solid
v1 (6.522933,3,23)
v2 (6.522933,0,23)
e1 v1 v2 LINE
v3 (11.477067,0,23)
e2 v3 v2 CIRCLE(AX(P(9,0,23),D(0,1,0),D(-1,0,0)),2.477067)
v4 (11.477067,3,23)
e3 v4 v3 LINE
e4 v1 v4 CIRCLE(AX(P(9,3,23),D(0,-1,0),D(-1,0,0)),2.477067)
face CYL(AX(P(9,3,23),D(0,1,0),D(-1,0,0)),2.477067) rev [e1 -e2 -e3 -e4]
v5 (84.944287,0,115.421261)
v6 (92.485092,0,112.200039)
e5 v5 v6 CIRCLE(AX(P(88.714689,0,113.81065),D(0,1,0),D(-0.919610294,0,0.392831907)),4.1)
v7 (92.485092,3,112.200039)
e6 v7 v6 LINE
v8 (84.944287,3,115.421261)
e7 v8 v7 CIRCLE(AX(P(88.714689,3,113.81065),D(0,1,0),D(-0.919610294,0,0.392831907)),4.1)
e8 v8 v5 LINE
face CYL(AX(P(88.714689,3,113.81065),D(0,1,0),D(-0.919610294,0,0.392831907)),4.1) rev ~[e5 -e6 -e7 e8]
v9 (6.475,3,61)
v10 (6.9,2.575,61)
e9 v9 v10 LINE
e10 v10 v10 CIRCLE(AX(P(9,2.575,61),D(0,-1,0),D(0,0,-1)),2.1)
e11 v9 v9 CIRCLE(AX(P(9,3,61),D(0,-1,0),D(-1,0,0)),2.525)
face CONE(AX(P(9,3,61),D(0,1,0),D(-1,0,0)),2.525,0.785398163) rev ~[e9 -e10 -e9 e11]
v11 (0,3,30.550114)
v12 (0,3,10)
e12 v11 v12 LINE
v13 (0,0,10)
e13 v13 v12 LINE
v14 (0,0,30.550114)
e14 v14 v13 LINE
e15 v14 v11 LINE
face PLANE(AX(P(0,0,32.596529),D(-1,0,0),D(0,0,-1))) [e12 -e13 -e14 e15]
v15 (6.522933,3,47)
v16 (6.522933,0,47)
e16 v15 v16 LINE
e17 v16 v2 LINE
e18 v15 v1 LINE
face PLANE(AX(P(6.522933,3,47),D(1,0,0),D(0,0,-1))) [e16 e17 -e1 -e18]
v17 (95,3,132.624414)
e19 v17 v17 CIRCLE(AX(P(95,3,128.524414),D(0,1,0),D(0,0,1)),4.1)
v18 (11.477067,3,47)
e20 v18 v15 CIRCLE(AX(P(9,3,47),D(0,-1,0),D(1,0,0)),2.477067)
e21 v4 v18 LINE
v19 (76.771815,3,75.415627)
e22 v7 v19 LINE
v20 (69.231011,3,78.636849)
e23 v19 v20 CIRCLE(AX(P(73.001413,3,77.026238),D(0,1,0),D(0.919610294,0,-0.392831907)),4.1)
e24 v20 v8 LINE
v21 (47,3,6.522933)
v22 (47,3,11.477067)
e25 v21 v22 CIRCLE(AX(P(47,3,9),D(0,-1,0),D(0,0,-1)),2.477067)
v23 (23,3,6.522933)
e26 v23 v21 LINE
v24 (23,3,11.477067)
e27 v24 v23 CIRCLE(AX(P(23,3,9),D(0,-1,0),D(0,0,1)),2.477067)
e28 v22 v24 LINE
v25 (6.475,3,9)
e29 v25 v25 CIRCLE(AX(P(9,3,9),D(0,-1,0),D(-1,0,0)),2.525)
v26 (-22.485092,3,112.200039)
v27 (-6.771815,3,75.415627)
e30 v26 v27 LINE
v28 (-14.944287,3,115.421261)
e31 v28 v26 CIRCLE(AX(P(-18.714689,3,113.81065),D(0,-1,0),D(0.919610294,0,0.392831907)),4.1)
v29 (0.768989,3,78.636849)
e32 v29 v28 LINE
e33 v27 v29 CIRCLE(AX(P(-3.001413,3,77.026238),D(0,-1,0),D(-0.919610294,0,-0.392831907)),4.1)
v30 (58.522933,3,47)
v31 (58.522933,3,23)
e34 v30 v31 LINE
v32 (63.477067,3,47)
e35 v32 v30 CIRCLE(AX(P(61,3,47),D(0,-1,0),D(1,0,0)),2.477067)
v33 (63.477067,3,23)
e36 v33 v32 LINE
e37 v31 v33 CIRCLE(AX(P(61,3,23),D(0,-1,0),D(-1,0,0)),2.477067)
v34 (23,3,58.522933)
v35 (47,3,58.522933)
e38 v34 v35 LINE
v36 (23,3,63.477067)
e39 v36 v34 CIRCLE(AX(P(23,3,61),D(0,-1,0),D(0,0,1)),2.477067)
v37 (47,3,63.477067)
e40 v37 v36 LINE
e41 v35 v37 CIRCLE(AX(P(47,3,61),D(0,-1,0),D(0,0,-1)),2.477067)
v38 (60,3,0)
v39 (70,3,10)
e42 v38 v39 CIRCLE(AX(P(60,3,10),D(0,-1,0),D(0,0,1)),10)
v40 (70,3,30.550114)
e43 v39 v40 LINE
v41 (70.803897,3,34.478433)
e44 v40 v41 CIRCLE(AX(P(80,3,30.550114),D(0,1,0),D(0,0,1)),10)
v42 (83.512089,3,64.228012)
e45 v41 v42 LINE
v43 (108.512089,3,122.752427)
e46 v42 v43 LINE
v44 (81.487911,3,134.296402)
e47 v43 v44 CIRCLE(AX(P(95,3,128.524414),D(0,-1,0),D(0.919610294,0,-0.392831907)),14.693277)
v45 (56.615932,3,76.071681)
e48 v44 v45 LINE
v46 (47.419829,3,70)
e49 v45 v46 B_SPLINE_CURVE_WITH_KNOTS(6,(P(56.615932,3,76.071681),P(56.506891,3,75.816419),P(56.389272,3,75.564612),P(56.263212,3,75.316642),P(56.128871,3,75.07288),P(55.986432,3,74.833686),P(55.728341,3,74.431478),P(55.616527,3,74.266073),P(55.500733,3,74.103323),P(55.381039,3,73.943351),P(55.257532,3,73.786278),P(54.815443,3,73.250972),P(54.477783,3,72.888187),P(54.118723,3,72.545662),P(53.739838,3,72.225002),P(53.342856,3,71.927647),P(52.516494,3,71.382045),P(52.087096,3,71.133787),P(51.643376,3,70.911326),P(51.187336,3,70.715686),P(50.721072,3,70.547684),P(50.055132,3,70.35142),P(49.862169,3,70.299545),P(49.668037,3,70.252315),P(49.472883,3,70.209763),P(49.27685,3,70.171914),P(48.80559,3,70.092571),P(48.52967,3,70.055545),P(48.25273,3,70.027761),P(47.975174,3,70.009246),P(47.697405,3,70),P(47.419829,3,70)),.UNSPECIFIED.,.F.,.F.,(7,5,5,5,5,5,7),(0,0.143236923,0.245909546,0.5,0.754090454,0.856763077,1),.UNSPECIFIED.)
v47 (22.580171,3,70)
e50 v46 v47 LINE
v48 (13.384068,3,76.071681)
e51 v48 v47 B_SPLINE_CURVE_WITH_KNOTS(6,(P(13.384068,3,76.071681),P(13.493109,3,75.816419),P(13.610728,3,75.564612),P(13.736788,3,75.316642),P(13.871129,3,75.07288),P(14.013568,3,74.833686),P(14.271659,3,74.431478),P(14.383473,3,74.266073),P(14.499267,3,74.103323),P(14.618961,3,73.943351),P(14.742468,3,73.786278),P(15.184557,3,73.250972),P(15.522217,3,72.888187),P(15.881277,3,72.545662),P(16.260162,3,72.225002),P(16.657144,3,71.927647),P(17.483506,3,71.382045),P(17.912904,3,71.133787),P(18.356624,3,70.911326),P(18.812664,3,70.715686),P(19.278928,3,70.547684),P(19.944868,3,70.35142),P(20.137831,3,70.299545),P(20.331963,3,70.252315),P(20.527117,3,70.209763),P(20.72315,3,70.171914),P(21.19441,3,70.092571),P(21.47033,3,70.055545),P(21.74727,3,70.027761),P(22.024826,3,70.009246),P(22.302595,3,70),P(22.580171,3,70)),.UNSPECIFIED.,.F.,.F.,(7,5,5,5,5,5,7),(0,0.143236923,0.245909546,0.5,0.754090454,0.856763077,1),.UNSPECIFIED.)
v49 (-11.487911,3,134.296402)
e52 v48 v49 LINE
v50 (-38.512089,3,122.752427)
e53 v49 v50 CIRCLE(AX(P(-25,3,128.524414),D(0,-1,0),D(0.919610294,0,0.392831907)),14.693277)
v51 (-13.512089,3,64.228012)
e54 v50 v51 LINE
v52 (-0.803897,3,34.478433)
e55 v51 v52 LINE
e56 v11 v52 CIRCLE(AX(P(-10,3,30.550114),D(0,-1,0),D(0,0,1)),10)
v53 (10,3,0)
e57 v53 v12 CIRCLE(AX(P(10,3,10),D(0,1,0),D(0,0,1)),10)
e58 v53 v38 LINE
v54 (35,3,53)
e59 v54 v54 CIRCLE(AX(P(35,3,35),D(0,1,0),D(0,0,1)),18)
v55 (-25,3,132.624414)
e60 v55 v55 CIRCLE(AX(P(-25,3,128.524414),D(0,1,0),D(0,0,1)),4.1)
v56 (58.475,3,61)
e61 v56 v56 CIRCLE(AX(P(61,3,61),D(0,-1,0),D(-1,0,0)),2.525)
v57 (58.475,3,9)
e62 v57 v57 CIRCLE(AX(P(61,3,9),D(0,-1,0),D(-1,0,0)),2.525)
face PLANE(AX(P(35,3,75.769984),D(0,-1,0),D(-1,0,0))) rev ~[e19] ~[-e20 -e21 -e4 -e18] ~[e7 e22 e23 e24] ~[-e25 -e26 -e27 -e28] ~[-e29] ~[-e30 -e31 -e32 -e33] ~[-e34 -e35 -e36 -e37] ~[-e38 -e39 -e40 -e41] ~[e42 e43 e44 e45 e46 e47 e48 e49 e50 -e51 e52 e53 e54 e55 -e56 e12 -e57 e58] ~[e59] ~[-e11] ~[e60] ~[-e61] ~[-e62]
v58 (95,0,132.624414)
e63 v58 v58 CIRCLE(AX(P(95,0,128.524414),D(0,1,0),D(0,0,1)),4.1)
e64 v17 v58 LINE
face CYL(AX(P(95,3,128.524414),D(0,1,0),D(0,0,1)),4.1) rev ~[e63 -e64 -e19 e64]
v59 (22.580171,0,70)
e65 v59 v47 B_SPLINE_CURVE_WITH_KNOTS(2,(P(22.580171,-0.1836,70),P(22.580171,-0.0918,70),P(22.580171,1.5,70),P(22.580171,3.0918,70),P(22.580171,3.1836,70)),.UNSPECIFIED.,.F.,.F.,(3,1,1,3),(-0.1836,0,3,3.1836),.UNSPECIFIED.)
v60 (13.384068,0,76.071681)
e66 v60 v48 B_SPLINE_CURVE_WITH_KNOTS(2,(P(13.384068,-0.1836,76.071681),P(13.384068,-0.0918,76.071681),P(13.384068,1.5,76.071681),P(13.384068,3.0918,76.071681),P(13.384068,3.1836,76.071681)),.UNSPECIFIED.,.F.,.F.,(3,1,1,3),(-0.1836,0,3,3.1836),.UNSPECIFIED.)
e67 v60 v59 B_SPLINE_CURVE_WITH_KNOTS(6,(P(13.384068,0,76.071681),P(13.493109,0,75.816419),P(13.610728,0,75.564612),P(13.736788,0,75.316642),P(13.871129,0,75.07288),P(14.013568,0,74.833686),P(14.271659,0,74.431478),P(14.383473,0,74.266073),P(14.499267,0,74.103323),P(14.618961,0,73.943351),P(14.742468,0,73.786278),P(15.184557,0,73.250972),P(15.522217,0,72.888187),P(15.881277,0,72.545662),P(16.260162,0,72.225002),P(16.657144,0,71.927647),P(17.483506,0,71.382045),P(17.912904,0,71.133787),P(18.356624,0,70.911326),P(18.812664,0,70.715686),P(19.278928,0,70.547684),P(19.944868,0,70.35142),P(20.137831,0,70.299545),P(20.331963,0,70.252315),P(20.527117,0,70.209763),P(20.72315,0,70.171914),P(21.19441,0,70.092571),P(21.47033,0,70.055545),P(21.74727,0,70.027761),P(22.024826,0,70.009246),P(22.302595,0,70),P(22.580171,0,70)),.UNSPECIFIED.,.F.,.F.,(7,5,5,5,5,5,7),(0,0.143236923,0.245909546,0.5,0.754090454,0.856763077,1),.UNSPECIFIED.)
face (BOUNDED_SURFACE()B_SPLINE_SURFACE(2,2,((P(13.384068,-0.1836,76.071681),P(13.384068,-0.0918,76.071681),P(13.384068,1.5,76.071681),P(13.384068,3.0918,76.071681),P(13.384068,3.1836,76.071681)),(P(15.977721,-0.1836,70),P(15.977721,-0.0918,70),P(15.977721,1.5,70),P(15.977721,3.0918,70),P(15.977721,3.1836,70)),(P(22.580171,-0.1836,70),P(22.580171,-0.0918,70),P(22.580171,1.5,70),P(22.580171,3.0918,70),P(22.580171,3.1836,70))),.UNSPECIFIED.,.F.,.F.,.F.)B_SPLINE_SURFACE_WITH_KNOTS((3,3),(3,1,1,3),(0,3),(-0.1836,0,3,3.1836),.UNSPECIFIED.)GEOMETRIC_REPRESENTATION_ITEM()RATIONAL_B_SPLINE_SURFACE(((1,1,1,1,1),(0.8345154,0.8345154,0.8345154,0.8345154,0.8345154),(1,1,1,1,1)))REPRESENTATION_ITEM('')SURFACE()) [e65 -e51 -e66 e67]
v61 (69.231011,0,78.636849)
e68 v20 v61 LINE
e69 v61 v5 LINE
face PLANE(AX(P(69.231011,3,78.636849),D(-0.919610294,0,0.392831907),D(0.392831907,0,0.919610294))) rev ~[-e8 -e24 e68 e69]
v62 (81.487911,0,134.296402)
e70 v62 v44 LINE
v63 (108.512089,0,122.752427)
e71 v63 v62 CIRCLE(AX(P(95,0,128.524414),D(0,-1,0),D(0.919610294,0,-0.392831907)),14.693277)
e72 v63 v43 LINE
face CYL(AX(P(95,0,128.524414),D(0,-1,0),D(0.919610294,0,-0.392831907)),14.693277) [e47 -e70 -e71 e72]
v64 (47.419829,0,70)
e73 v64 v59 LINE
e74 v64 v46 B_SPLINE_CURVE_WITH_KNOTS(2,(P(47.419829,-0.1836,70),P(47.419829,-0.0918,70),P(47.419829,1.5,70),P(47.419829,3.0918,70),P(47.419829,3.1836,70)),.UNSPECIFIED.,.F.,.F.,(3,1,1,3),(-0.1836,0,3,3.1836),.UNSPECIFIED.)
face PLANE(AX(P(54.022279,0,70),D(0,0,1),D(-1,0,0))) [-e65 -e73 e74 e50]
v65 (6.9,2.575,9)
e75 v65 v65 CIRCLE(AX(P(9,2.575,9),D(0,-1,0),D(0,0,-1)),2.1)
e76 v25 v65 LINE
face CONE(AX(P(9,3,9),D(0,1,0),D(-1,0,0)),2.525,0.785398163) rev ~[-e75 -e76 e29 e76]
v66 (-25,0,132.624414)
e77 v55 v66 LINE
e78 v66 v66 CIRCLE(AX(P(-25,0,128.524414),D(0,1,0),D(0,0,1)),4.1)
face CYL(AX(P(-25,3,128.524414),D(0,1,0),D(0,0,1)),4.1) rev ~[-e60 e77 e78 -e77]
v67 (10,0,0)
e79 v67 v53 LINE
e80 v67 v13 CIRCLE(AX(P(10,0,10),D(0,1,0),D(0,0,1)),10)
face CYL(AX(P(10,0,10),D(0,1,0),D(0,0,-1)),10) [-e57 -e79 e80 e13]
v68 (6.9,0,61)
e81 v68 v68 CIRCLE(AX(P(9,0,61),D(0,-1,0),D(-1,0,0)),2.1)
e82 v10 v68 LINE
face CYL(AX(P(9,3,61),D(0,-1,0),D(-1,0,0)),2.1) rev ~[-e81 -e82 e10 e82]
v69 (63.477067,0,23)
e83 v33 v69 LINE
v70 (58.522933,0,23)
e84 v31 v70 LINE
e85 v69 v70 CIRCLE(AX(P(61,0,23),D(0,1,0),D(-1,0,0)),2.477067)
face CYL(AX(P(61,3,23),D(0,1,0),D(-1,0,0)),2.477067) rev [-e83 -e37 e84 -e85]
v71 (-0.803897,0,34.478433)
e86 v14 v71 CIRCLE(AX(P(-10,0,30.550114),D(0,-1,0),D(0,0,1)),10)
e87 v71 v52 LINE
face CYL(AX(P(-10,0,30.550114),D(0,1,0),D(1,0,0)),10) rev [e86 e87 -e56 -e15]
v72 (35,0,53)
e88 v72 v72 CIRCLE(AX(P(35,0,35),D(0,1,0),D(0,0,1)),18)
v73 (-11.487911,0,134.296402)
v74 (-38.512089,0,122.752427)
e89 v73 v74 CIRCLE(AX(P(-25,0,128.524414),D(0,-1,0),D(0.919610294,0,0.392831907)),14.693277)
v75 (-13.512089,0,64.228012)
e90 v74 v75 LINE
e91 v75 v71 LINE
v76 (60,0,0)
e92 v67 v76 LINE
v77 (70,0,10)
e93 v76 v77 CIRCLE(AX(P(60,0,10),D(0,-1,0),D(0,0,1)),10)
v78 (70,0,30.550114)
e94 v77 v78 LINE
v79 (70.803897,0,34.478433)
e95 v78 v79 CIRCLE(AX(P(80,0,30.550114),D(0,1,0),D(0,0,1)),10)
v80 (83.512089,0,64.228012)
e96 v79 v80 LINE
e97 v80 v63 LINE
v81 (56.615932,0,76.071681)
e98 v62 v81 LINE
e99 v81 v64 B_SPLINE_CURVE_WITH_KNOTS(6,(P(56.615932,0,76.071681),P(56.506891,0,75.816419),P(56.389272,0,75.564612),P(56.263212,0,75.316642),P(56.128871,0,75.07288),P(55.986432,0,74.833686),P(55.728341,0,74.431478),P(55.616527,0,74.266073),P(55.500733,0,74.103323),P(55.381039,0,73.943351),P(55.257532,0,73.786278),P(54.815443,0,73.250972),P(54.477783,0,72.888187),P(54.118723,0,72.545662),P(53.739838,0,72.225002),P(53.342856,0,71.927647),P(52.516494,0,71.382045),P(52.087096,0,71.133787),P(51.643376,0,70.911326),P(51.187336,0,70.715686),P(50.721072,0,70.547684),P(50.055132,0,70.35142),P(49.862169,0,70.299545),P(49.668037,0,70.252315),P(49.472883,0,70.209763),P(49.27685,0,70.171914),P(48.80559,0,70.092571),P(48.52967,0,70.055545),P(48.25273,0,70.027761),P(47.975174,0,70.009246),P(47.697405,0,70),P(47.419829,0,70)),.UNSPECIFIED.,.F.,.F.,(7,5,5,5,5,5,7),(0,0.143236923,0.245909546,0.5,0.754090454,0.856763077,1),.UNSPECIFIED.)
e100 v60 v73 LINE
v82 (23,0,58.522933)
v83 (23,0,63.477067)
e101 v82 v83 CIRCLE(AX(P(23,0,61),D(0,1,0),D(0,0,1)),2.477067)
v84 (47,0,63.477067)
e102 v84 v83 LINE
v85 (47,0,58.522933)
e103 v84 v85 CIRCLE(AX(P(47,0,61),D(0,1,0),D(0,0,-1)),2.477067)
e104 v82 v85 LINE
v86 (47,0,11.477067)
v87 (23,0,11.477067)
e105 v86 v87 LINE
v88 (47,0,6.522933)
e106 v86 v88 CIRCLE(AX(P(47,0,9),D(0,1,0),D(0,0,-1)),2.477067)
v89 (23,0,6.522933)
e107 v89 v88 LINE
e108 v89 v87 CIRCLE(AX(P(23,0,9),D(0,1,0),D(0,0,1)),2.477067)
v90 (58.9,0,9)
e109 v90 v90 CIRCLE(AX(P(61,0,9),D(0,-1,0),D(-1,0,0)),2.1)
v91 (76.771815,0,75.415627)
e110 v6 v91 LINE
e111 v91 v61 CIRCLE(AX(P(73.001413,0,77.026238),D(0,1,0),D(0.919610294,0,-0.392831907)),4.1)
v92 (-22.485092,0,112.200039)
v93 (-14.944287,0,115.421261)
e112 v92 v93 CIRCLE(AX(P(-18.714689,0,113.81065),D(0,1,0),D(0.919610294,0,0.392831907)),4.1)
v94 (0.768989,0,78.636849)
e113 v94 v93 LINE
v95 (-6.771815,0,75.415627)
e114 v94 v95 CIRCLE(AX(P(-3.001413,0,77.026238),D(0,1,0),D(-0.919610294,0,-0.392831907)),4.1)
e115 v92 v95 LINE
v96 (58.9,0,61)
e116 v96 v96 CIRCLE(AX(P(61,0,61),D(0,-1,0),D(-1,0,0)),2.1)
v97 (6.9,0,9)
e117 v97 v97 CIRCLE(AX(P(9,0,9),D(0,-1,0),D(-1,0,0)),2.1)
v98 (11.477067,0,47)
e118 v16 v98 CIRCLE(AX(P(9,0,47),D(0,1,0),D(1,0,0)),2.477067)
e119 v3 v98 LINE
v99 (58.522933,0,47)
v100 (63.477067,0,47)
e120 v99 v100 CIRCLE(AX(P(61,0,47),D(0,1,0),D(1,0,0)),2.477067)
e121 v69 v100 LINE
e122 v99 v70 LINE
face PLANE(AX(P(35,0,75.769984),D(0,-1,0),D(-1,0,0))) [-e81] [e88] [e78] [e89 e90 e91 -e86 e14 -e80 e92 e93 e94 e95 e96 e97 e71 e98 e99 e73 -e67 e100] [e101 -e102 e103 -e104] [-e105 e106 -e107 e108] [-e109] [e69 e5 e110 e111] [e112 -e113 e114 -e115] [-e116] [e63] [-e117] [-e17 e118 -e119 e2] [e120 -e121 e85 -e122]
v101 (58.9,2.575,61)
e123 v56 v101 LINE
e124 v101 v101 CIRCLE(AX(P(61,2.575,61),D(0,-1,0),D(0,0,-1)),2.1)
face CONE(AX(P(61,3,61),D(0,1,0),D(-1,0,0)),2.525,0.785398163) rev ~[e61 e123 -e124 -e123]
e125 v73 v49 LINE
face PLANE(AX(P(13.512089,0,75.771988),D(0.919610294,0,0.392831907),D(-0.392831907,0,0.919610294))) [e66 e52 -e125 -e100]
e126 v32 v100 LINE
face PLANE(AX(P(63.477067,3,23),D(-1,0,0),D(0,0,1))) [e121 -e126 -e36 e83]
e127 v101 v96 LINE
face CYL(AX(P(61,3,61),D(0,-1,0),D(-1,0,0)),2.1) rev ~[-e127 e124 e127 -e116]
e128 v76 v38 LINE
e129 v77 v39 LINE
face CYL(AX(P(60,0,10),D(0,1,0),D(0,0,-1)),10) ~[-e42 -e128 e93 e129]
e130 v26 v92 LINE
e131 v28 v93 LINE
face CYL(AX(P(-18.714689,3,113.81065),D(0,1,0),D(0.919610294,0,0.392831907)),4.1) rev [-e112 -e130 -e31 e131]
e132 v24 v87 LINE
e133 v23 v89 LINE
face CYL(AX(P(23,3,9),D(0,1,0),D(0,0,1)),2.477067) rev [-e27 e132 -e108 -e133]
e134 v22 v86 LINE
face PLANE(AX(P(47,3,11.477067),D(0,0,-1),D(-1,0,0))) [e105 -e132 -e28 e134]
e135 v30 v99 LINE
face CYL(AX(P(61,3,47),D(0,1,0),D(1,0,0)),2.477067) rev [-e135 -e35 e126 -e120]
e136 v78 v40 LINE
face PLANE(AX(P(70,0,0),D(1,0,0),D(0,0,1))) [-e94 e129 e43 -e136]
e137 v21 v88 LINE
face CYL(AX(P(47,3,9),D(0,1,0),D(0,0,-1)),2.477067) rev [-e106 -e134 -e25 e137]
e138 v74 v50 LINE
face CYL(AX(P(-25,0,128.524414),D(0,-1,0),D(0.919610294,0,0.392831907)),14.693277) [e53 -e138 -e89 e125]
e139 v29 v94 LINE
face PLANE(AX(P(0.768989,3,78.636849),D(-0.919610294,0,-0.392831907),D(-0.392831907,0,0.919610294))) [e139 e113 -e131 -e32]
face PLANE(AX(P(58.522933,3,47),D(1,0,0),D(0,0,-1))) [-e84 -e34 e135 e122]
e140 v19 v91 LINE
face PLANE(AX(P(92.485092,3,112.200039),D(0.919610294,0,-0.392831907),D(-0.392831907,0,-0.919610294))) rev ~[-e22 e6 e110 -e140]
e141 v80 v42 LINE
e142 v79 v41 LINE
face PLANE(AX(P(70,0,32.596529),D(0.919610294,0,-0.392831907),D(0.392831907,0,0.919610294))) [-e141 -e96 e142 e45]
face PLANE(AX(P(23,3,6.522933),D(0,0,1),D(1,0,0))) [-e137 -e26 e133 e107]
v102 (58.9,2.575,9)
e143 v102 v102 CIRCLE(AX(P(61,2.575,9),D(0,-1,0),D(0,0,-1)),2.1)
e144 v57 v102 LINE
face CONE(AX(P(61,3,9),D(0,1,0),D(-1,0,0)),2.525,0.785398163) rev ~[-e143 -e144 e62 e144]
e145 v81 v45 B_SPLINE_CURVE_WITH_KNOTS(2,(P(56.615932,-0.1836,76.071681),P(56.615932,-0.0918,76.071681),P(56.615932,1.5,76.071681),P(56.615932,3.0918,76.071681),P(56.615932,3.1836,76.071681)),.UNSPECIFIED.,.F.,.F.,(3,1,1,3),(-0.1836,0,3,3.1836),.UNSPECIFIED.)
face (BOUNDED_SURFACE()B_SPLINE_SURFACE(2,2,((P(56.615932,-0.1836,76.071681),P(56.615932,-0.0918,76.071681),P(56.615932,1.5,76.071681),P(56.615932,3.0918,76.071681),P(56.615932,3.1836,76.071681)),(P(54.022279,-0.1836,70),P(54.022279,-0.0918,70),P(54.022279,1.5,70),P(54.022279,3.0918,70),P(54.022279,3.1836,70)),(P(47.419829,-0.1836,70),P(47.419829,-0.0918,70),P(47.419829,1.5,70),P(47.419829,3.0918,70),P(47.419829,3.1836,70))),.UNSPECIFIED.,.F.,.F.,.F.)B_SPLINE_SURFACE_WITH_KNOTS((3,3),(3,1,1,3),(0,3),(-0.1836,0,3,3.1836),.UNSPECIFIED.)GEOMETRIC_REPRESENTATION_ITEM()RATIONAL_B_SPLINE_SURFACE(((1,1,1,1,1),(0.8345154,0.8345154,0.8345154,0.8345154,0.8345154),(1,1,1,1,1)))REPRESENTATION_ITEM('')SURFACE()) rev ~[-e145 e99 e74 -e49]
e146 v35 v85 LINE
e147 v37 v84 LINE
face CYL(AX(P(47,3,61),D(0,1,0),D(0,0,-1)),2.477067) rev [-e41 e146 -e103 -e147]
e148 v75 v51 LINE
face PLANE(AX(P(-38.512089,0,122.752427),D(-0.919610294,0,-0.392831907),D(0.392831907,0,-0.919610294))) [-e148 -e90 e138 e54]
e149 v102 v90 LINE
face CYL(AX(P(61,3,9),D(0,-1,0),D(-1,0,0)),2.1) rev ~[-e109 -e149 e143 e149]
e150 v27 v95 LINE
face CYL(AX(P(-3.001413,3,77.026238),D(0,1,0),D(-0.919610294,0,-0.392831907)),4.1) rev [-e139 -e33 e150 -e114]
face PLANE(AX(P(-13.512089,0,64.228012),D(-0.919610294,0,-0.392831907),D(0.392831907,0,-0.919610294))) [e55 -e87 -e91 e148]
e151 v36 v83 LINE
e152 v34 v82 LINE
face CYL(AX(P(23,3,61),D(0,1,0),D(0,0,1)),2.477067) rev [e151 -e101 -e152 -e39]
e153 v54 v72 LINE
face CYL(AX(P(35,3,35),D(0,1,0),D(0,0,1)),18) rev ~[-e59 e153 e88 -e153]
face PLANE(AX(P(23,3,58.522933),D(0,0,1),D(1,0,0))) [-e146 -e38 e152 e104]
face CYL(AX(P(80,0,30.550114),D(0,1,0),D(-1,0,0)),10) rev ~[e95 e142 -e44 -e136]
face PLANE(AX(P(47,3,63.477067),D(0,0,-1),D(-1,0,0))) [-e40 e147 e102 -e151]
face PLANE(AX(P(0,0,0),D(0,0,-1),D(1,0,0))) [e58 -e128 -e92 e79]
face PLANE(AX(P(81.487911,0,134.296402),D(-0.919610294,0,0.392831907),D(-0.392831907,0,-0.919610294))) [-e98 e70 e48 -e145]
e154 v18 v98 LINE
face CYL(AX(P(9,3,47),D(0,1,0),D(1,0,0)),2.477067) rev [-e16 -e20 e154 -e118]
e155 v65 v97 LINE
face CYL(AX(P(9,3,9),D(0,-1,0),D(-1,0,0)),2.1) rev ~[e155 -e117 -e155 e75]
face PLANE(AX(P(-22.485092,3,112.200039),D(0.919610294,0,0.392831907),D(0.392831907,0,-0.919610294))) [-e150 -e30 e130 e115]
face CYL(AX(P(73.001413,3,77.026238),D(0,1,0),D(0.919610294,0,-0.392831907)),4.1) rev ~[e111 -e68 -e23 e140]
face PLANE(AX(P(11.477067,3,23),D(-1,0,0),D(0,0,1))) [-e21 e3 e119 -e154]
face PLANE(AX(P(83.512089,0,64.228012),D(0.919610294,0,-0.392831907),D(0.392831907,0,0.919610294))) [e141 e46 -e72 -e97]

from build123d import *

# Parameters (mm, degrees)
EXTRUDE_1_DEPTH              = 3
HOLE_WIZARD_M5_1_D           = 4.2
HOLE_WIZARD_M5_1_CSINK_D     = 5.05
HOLE_WIZARD_M5_1_CSINK_ANGLE = 90
CUT_EXTRUDE_1_REACH          = 182.424
SKETCH_4_R                   = 4.1
FILLET_1_R                   = 10
CUT_EXTRUDE_2_REACH          = 182.424
SKETCH_5_R                   = 18
CUT_EXTRUDE_3_REACH          = 182.424


with BuildPart() as part:
    # 草图1 → 凸台-拉伸1 (new body)
    with BuildSketch(Plane(origin=(0, 0, 0), x_dir=(1, 0, 0), z_dir=(0, 1, 0))):
        with BuildLine():
            Line((0, 0), (70, 0))
            Line((70, 0), (70, -32.596529214))
            Line((70, -32.596529214), (83.512088558, -64.228012072))
            Line((83.512088558, -64.228012072), (108.512088558, -122.752426568))
            ThreePointArc((108.512088558, -122.752426568), (100.771987928, -142.036503054), (81.487911442, -134.296402424))
            Line((81.487911442, -134.296402424), (56.487911442, -75.771987928))
            Line((56.487911442, -75.771987928), (54.022278946, -70))
            Line((54.022278946, -70), (15.977721054, -70))
            Line((15.977721054, -70), (13.512088558, -75.771987928))
            Line((13.512088558, -75.771987928), (-11.487911442, -134.296402424))
            ThreePointArc((-11.487911442, -134.296402424), (-30.771987928, -142.036503054), (-38.512088558, -122.752426568))
            Line((-38.512088558, -122.752426568), (-13.512088558, -64.228012072))
            Line((-13.512088558, -64.228012072), (0, -32.596529214))
            Line((0, -32.596529214), (0, 0))
        make_face()
    extrude(amount=EXTRUDE_1_DEPTH)

    # M5 螺纹孔1 (through all)
    with Locations(Plane(origin=(0, 3, 0), x_dir=(1, 0, 0), z_dir=(0, 1, 0))):
        with Locations((9, -61), (61, -9), (9, -9), (61, -61)):
            CounterSinkHole(HOLE_WIZARD_M5_1_D / 2, HOLE_WIZARD_M5_1_CSINK_D / 2, counter_sink_angle=HOLE_WIZARD_M5_1_CSINK_ANGLE)

    # 草图4 → 切除-拉伸1 (cut, up to next)
    with BuildSketch(Plane(origin=(0, 3, 0), x_dir=(1, 0, 0), z_dir=(0, 1, 0)), mode=Mode.PRIVATE) as cut_extrude_1_sk1:
        with Locations(Location((-25, -128.524414496, 0), (0, 0, 270))):
            Circle(SKETCH_4_R)
    cut_extrude_1_tool1 = extrude(cut_extrude_1_sk1.sketch, amount=-CUT_EXTRUDE_1_REACH, mode=Mode.PRIVATE) & part.part
    # 草图4 → 切除-拉伸1 (cut, up to next)
    with BuildSketch(Plane(origin=(0, 3, 0), x_dir=(1, 0, 0), z_dir=(0, 1, 0)), mode=Mode.PRIVATE) as cut_extrude_1_sk2:
        with Locations(Location((95, -128.524414496, 0), (0, 0, 270))):
            Circle(SKETCH_4_R)
    cut_extrude_1_tool2 = extrude(cut_extrude_1_sk2.sketch, amount=-CUT_EXTRUDE_1_REACH, mode=Mode.PRIVATE) & part.part
    add(cut_extrude_1_tool1.solids().sort_by_distance((-25, 3, 128.524414))[0], mode=Mode.SUBTRACT)
    add(cut_extrude_1_tool2.solids().sort_by_distance((95, 3, 128.524414))[0], mode=Mode.SUBTRACT)

    # 圆角1
    fillet_1_edges = [part.edges().sort_by_distance(p)[0] for p in [
        (0, 1.5, 0),
        (70, 1.5, 0),
        (70, 1.5, 32.596529214),
        (54.022278946, 1.5, 70),
        (15.977721054, 1.5, 70),
        (0, 1.5, 32.596529214),
    ]]
    fillet(fillet_1_edges, radius=FILLET_1_R)

    # 草图5 → 切除-拉伸2 (cut, up to next)
    with BuildSketch(Plane(origin=(0, 3, 0), x_dir=(1, 0, 0), z_dir=(0, 1, 0)), mode=Mode.PRIVATE) as cut_extrude_2_sk1:
        with Locations(Location((35, -35, 0), (0, 0, 270))):
            Circle(SKETCH_5_R)
    cut_extrude_2_tool1 = extrude(cut_extrude_2_sk1.sketch, amount=-CUT_EXTRUDE_2_REACH, mode=Mode.PRIVATE) & part.part
    add(cut_extrude_2_tool1.solids().sort_by_distance((35, 3, 35))[0], mode=Mode.SUBTRACT)

    # 草图6 → 切除-拉伸3 (cut, up to next)
    with BuildSketch(Plane(origin=(0, 3, 0), x_dir=(1, 0, 0), z_dir=(0, 1, 0)), mode=Mode.PRIVATE) as cut_extrude_3_sk1:
        with BuildLine():
            Line((-22.485091694, -112.200038973), (-6.771815415, -75.415627212))
            ThreePointArc((-6.771815415, -75.415627212), (-1.390802391, -73.255835825), (0.768988996, -78.636848849))
            Line((0.768988996, -78.636848849), (-14.944287283, -115.42126061))
            ThreePointArc((-14.944287283, -115.42126061), (-20.325300307, -117.581051997), (-22.485091694, -112.200038973))
        make_face()
    cut_extrude_3_tool1 = extrude(cut_extrude_3_sk1.sketch, amount=-CUT_EXTRUDE_3_REACH, mode=Mode.PRIVATE) & part.part
    # 草图6 → 切除-拉伸3 (cut, up to next)
    with BuildSketch(Plane(origin=(0, 3, 0), x_dir=(1, 0, 0), z_dir=(0, 1, 0)), mode=Mode.PRIVATE) as cut_extrude_3_sk2:
        with BuildLine():
            Line((92.485091694, -112.200038973), (76.771815415, -75.415627212))
            ThreePointArc((76.771815415, -75.415627212), (71.390802391, -73.255835825), (69.231011004, -78.636848849))
            Line((69.231011004, -78.636848849), (84.944287283, -115.42126061))
            ThreePointArc((84.944287283, -115.42126061), (90.325300307, -117.581051997), (92.485091694, -112.200038973))
        make_face()
    cut_extrude_3_tool2 = extrude(cut_extrude_3_sk2.sketch, amount=-CUT_EXTRUDE_3_REACH, mode=Mode.PRIVATE) & part.part
    # 草图6 → 切除-拉伸3 (cut, up to next)
    with BuildSketch(Plane(origin=(0, 3, 0), x_dir=(1, 0, 0), z_dir=(0, 1, 0)), mode=Mode.PRIVATE) as cut_extrude_3_sk3:
        with BuildLine():
            Line((23, -6.522932736), (47, -6.522932736))
            ThreePointArc((47, -6.522932736), (49.477067264, -9), (47, -11.477067264))
            Line((47, -11.477067264), (23, -11.477067264))
            ThreePointArc((23, -11.477067264), (20.522932736, -9), (23, -6.522932736))
        make_face()
    cut_extrude_3_tool3 = extrude(cut_extrude_3_sk3.sketch, amount=-CUT_EXTRUDE_3_REACH, mode=Mode.PRIVATE) & part.part
    # 草图6 → 切除-拉伸3 (cut, up to next)
    with BuildSketch(Plane(origin=(0, 3, 0), x_dir=(1, 0, 0), z_dir=(0, 1, 0)), mode=Mode.PRIVATE) as cut_extrude_3_sk4:
        with BuildLine():
            Line((63.477067264, -23), (63.477067264, -47))
            ThreePointArc((63.477067264, -47), (61, -49.477067264), (58.522932736, -47))
            Line((58.522932736, -47), (58.522932736, -23))
            ThreePointArc((58.522932736, -23), (61, -20.522932736), (63.477067264, -23))
        make_face()
    cut_extrude_3_tool4 = extrude(cut_extrude_3_sk4.sketch, amount=-CUT_EXTRUDE_3_REACH, mode=Mode.PRIVATE) & part.part
    # 草图6 → 切除-拉伸3 (cut, up to next)
    with BuildSketch(Plane(origin=(0, 3, 0), x_dir=(1, 0, 0), z_dir=(0, 1, 0)), mode=Mode.PRIVATE) as cut_extrude_3_sk5:
        with BuildLine():
            Line((47, -63.477067264), (23, -63.477067264))
            ThreePointArc((23, -63.477067264), (20.522932736, -61), (23, -58.522932736))
            Line((23, -58.522932736), (47, -58.522932736))
            ThreePointArc((47, -58.522932736), (49.477067264, -61), (47, -63.477067264))
        make_face()
    cut_extrude_3_tool5 = extrude(cut_extrude_3_sk5.sketch, amount=-CUT_EXTRUDE_3_REACH, mode=Mode.PRIVATE) & part.part
    # 草图6 → 切除-拉伸3 (cut, up to next)
    with BuildSketch(Plane(origin=(0, 3, 0), x_dir=(1, 0, 0), z_dir=(0, 1, 0)), mode=Mode.PRIVATE) as cut_extrude_3_sk6:
        with BuildLine():
            Line((6.522932736, -47), (6.522932736, -23))
            ThreePointArc((6.522932736, -23), (9, -20.522932736), (11.477067264, -23))
            Line((11.477067264, -23), (11.477067264, -47))
            ThreePointArc((11.477067264, -47), (9, -49.477067264), (6.522932736, -47))
        make_face()
    cut_extrude_3_tool6 = extrude(cut_extrude_3_sk6.sketch, amount=-CUT_EXTRUDE_3_REACH, mode=Mode.PRIVATE) & part.part
    add(cut_extrude_3_tool1.solids().sort_by_distance((-10.858051, 3, 95.418444))[0], mode=Mode.SUBTRACT)
    add(cut_extrude_3_tool2.solids().sort_by_distance((80.858051, 3, 95.418444))[0], mode=Mode.SUBTRACT)
    add(cut_extrude_3_tool3.solids().sort_by_distance((35, 3, 9))[0], mode=Mode.SUBTRACT)
    add(cut_extrude_3_tool4.solids().sort_by_distance((61, 3, 35))[0], mode=Mode.SUBTRACT)
    add(cut_extrude_3_tool5.solids().sort_by_distance((35, 3, 61))[0], mode=Mode.SUBTRACT)
    add(cut_extrude_3_tool6.solids().sort_by_distance((9, 3, 35))[0], mode=Mode.SUBTRACT)


solid = part.part
